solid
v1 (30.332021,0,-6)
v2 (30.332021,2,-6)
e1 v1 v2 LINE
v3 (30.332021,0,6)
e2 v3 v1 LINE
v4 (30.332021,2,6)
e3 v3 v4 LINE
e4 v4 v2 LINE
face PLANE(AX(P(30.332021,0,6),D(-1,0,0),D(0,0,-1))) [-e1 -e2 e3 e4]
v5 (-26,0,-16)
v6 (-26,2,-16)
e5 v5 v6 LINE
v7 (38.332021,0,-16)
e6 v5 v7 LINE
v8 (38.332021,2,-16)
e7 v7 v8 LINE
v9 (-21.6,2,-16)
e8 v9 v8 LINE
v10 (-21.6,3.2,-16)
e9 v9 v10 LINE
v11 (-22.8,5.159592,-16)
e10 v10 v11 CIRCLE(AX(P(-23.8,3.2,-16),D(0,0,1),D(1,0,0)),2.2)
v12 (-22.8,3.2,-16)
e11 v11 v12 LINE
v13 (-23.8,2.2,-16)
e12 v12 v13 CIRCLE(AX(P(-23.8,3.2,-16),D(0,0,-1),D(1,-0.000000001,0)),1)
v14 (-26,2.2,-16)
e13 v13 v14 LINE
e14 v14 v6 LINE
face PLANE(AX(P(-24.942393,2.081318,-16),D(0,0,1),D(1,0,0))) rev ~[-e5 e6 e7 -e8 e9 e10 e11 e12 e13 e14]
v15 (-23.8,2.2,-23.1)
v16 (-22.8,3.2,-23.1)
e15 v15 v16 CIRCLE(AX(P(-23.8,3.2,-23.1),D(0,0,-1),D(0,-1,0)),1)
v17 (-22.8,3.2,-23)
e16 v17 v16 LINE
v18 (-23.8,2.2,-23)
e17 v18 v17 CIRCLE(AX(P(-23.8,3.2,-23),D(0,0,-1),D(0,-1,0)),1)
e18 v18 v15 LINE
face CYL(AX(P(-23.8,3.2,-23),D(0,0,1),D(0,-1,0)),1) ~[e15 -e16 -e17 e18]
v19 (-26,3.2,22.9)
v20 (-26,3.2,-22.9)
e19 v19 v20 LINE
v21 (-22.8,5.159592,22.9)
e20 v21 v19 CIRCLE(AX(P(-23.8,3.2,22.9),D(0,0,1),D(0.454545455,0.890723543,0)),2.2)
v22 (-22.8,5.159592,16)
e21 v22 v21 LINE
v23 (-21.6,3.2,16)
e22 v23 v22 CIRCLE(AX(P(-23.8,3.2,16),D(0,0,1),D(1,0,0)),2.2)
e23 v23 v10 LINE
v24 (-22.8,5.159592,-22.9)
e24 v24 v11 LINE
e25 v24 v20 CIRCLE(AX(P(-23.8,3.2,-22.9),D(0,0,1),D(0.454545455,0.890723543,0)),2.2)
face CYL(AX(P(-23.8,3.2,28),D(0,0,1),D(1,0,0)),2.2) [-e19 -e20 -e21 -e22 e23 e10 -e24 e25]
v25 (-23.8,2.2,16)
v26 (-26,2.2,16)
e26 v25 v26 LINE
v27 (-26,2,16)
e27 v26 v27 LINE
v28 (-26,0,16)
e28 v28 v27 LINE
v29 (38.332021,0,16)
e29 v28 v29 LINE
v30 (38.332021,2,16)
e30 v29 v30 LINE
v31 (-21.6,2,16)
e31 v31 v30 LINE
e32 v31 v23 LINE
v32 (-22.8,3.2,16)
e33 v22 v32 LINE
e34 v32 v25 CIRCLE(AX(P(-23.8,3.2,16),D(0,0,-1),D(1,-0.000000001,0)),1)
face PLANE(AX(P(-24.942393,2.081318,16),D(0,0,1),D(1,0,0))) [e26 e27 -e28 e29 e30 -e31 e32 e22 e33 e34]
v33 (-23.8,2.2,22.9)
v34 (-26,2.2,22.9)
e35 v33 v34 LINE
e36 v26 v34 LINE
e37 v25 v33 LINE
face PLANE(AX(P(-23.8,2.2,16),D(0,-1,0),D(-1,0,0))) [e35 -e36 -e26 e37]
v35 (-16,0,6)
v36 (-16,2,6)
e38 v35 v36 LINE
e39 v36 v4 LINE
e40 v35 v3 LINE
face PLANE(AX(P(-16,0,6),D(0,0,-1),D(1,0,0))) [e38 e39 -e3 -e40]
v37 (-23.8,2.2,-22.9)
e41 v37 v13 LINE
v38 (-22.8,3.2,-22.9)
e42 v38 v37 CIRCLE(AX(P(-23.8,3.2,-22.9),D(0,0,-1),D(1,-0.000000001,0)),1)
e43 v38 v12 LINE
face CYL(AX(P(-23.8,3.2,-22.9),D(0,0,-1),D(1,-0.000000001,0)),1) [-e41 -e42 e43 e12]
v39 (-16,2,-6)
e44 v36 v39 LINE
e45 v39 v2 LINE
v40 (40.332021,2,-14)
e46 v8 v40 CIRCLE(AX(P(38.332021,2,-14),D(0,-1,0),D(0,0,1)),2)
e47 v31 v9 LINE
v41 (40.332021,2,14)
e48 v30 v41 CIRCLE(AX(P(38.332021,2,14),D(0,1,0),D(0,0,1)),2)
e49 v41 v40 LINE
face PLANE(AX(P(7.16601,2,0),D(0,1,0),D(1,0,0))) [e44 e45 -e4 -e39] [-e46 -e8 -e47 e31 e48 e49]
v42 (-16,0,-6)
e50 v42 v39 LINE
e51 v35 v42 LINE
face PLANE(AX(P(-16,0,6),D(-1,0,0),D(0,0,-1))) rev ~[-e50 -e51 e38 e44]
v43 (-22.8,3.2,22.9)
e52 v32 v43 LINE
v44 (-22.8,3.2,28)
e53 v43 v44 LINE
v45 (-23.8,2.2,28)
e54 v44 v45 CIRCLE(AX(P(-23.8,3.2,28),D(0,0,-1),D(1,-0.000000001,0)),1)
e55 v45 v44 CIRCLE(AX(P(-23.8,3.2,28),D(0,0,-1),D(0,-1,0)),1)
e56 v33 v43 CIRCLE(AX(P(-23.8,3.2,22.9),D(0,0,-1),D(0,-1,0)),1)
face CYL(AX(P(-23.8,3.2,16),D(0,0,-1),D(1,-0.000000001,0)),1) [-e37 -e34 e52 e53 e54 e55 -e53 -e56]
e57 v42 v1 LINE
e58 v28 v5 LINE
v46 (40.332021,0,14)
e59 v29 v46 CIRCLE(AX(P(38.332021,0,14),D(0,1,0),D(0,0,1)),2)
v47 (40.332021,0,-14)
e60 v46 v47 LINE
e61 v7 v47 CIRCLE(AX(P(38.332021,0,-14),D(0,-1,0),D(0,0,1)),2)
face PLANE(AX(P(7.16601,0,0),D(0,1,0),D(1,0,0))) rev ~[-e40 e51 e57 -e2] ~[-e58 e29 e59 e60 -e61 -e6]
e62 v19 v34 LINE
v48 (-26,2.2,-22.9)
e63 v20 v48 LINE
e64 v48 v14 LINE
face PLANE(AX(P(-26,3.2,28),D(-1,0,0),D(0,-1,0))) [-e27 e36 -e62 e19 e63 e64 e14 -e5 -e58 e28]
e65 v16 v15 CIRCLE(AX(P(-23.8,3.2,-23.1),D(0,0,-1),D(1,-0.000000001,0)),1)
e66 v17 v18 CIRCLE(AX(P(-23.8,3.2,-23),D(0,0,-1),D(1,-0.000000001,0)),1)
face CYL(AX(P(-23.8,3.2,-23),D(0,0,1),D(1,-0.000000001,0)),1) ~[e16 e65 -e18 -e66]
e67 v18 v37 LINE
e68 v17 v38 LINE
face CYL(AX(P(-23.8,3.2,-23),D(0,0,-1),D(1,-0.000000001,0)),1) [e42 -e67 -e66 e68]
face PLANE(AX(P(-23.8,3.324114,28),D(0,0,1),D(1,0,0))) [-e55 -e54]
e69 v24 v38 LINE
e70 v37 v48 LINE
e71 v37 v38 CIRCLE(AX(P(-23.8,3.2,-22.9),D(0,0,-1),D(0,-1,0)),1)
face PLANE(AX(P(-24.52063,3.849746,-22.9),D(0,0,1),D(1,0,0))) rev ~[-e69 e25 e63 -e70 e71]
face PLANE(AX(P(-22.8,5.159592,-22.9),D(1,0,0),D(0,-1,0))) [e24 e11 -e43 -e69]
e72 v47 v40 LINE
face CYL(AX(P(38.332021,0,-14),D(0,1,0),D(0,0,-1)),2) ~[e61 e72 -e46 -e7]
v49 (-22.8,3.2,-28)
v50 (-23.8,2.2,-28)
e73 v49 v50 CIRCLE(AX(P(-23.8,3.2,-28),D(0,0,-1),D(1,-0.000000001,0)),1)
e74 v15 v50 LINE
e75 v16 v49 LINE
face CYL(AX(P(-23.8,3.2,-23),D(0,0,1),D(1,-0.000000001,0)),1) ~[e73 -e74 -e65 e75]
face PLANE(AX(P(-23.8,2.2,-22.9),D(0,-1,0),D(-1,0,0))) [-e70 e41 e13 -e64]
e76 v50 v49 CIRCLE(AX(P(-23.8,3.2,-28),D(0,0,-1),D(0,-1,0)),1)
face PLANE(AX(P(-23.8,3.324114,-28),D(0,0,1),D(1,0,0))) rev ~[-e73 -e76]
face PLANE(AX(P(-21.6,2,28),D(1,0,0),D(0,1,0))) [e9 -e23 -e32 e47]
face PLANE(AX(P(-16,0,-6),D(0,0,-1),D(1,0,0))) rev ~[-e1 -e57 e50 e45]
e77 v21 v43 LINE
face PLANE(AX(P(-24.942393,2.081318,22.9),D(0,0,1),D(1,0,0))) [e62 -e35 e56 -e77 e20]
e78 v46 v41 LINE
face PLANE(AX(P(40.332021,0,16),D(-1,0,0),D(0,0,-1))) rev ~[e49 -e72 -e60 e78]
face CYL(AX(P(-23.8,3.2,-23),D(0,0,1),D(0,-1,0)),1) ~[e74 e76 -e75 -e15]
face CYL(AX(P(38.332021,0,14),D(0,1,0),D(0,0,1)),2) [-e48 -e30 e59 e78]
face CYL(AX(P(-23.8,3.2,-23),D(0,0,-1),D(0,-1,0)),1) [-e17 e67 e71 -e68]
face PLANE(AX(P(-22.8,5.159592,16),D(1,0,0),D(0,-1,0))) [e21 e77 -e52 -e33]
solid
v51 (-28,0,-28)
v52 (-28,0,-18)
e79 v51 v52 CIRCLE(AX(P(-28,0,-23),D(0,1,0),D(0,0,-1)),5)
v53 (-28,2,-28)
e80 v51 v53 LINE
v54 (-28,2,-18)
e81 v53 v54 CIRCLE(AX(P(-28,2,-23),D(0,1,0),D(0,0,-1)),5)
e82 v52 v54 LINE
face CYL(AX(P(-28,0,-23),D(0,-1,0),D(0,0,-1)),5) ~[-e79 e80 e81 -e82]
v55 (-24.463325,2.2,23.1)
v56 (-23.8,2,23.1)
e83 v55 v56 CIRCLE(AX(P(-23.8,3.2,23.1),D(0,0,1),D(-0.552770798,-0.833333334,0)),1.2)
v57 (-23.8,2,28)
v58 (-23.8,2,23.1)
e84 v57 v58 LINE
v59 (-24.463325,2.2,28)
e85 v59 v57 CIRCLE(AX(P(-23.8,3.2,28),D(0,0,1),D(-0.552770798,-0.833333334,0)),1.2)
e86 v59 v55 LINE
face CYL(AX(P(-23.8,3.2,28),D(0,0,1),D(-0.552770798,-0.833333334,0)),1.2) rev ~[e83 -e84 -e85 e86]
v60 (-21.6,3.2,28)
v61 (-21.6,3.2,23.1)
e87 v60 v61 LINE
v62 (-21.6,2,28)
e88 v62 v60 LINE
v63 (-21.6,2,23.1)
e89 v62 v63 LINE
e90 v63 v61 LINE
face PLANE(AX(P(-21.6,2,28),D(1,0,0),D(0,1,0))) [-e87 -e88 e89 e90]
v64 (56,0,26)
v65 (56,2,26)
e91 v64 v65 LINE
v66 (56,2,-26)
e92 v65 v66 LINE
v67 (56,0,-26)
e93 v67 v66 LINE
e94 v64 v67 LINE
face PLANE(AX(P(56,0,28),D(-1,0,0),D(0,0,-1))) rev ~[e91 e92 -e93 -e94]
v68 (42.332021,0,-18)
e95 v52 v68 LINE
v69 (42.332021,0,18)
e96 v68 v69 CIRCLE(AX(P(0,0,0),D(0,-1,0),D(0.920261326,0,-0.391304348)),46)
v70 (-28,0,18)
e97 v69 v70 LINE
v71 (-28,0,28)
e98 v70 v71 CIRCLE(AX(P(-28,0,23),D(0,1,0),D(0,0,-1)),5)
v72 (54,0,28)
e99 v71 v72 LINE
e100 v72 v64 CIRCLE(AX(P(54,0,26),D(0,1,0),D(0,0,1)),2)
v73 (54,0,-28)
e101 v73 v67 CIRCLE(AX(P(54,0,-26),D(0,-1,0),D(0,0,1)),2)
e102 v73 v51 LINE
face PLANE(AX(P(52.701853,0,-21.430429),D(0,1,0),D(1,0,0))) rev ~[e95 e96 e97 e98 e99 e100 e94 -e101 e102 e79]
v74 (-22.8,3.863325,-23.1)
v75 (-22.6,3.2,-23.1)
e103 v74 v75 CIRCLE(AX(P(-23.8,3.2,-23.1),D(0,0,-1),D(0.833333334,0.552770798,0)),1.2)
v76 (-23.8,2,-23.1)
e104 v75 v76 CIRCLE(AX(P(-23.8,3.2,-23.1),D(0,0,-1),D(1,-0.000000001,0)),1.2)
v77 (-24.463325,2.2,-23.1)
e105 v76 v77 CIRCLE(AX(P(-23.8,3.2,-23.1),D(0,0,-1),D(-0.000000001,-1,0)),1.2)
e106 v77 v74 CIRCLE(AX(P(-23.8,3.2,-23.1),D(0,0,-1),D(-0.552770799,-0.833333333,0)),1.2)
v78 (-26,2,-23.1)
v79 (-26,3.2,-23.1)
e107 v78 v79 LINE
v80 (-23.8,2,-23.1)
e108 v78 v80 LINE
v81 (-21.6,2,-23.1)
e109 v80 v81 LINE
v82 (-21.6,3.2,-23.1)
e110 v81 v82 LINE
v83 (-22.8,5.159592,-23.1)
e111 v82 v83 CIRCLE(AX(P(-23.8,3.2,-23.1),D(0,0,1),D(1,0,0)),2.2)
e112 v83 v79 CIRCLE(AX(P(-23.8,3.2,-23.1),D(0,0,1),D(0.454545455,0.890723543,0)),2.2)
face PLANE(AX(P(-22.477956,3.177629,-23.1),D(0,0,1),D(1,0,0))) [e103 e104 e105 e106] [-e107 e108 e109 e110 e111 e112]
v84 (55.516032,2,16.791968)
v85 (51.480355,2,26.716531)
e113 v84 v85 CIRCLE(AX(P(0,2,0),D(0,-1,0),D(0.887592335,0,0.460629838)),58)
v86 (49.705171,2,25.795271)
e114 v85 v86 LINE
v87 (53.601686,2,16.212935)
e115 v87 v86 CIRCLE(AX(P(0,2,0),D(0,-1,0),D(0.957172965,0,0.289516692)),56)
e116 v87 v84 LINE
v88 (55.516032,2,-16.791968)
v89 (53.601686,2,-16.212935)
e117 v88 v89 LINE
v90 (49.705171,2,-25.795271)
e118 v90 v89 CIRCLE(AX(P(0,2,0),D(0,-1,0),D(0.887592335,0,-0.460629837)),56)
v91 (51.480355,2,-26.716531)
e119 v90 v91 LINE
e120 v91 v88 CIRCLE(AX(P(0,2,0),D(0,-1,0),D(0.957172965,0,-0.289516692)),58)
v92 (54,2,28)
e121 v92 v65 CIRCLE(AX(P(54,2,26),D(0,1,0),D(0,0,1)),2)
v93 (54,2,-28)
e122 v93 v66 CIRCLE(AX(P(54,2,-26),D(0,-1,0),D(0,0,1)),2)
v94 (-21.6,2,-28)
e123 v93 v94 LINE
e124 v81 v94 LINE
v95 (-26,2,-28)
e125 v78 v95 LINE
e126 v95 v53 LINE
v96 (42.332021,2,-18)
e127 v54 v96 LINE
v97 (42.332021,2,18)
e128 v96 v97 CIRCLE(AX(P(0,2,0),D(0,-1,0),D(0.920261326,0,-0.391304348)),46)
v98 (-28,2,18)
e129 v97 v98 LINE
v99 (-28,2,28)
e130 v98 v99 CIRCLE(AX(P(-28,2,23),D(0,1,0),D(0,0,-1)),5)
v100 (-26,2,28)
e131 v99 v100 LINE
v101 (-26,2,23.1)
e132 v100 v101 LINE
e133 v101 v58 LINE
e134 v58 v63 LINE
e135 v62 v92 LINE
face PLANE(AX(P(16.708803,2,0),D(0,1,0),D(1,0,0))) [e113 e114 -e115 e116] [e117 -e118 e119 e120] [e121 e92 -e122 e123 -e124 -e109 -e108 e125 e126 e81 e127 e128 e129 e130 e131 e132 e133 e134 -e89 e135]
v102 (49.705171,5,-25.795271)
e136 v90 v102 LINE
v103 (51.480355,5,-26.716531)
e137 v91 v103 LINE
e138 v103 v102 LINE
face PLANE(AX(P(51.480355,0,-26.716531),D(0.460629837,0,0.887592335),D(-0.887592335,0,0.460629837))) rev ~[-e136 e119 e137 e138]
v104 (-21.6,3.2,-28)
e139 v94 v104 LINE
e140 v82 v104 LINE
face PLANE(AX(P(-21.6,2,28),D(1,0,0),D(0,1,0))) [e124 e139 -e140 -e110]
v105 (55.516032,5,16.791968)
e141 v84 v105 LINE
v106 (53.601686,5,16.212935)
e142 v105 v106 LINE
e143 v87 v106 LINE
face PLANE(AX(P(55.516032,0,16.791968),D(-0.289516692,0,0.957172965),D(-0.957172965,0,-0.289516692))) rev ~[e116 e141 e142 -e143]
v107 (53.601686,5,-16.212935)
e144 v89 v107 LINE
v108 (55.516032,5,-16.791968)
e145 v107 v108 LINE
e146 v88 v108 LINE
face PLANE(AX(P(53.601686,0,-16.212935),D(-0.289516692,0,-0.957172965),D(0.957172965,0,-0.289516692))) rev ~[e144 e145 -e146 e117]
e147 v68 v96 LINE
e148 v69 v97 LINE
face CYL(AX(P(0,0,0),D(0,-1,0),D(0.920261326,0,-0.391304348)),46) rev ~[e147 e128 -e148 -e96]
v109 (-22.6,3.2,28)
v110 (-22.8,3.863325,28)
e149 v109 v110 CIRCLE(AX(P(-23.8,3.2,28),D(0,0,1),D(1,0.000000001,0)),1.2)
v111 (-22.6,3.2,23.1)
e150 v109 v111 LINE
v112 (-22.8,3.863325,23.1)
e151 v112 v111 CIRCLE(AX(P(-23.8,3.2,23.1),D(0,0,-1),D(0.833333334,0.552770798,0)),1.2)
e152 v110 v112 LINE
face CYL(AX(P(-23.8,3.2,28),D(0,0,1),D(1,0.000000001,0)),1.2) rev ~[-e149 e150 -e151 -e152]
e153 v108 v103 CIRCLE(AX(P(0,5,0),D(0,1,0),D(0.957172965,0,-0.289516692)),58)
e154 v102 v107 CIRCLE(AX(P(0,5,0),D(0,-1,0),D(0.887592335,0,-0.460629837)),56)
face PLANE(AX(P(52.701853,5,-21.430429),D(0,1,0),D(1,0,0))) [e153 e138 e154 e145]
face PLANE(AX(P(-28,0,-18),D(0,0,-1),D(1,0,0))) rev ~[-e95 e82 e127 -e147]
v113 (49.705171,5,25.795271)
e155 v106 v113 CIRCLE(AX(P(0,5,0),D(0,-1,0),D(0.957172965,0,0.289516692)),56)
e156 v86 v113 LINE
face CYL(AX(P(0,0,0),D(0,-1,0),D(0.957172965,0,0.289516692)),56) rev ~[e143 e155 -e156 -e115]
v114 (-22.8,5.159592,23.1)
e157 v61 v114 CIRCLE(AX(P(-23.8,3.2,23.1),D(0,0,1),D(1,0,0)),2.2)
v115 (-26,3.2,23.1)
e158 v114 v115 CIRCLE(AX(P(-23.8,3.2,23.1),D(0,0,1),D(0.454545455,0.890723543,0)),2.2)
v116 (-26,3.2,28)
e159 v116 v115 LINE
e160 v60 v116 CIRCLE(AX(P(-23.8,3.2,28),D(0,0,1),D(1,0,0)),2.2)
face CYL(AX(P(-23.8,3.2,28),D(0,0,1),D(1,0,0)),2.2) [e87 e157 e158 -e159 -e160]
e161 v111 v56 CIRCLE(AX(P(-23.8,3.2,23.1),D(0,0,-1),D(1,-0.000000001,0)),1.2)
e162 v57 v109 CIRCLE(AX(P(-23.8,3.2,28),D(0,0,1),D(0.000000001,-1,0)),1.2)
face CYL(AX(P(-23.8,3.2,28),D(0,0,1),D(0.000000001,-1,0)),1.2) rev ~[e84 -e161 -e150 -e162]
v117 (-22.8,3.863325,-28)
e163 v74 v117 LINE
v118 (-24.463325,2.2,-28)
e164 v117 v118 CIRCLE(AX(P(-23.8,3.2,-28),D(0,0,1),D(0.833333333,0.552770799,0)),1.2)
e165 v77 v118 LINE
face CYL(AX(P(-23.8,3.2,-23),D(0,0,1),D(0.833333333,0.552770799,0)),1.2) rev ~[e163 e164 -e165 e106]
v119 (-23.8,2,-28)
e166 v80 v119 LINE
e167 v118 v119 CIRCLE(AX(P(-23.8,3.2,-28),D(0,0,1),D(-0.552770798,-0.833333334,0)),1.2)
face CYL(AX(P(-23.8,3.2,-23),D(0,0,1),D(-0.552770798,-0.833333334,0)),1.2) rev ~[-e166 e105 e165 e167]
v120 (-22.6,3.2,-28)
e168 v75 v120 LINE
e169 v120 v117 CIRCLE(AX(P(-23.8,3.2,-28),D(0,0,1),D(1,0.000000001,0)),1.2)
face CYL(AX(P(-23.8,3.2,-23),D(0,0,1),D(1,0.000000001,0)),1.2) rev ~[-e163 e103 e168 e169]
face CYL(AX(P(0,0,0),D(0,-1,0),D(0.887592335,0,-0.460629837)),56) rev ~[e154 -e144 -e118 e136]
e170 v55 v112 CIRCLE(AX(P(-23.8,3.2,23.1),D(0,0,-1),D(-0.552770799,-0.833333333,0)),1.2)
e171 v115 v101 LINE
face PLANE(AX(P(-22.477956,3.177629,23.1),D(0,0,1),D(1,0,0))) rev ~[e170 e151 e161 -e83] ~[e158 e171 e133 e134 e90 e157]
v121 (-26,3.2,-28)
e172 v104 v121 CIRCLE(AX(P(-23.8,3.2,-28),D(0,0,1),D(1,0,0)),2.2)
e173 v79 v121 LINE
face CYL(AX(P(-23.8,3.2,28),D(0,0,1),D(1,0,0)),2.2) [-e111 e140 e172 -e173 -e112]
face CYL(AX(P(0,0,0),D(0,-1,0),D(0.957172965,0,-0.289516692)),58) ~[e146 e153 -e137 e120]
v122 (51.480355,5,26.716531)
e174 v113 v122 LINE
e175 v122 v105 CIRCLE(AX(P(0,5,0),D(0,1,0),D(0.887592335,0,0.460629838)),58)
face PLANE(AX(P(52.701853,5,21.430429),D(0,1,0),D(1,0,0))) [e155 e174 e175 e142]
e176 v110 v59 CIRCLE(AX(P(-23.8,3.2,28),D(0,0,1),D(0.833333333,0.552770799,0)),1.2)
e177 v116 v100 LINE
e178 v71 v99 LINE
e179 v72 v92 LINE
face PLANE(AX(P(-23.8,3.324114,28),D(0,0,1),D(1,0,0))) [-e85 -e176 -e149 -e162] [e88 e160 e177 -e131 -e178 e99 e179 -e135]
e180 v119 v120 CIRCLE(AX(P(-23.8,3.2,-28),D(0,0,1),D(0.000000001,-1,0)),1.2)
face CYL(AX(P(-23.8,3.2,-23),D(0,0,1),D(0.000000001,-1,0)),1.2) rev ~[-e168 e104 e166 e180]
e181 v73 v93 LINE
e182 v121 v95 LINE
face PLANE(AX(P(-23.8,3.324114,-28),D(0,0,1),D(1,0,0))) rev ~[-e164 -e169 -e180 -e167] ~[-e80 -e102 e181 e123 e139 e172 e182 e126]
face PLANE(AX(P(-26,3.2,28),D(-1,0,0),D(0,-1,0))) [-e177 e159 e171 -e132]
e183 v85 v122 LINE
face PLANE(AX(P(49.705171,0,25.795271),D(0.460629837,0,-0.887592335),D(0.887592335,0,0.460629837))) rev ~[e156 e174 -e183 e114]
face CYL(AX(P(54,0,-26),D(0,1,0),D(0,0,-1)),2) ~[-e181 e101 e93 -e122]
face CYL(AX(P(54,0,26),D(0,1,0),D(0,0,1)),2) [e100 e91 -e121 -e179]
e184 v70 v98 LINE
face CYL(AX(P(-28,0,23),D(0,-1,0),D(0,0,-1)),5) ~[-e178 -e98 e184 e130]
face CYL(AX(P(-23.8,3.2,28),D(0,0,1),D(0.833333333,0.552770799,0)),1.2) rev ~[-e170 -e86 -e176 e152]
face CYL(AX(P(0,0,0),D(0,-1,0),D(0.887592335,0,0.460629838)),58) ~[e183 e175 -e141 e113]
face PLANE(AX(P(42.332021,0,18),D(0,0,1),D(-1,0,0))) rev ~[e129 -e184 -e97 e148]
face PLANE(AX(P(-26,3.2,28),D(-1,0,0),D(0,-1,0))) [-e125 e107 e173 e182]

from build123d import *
from build123d.topology import SkipClean

# Parameters (mm, degrees)
BOSS_EXTRUDE_BASE_PLATE_DEPTH         = 2
BASE_PLATE_W                          = 66.332020977
BASE_PLATE_H                          = 32
BASE_PLATE_W_2                        = 46.332020977
BASE_PLATE_H_2                        = 12
BOSS_EXTRUDE_BASE_PLATE_2_DEPTH       = 2
EXTRUDE_THIN_RISERS_DEPTH             = 5
BOSS_EXTRUDE_START                    = 28
BOSS_EXTRUDE_HINGE_BODY_DEPTH         = 56
FILLET_LEGS_R                         = 2
CUT_EXTRUDE_START                     = 28
CUT_EXTRUDE_HINGE_PIN_LHS_DEPTH       = 5
CUT_EXTRUDE_START_2                   = 23
CUT_EXTRUDE_HINGE_SEPARATOR_LHS_DEPTH = 0.1
CUT_EXTRUDE_START_3                   = 16
CUT_EXTRUDE_HINGE_LIMITER_LHS_DEPTH   = 6.9
CUT_EXTRUDE_START_4                   = -23
CUT_EXTRUDE_HINGE_PIN_RHS_DEPTH       = 5
CUT_EXTRUDE_HINGE_SEPARATOR_RHS_DEPTH = 0.1
CUT_EXTRUDE_START_5                   = -22.9
CUT_EXTRUDE_HINGE_LIMITER_RHS_DEPTH   = 6.9


with BuildPart() as part:
    # Base plate → Boss-Extrude base plate (new body)
    with BuildSketch(Plane(origin=(0, 0, 0), x_dir=(1, 0, 0), z_dir=(0, 1, 0))):
        with BuildLine():
            Line((-28, 18), (42.332020977, 18))
            ThreePointArc((42.332020977, 18), (46, 0), (42.332020977, -18))
            Line((42.332020977, -18), (-28, -18))
            ThreePointArc((-28, -18), (-33, -23), (-28, -28))
            Line((-28, -28), (48.497422612, -28))
            Line((48.497422612, -28), (56, -28))
            Line((56, -28), (56, 28))
            Line((56, 28), (48.497422612, 28))
            Line((48.497422612, 28), (-28, 28))
            ThreePointArc((-28, 28), (-33, 23), (-28, 18))
        make_face()
    extrude(amount=BOSS_EXTRUDE_BASE_PLATE_DEPTH)

    # Sketch1<5> → Extrude-Thin risers (add)
    with BuildSketch(Plane(origin=(0, 0, 0), x_dir=(1, 0, 0), z_dir=(0, 1, 0))):
        with BuildLine():
            ThreePointArc((49.705170747, 25.795270904), (51.875157412, 21.094265653), (53.601686044, 16.212934751))
            Line((53.601686044, 16.212934751), (55.516031974, 16.791968135))
            ThreePointArc((55.516031974, 16.791968135), (53.727841606, 21.847632284), (51.480355417, 26.716530579))
            Line((51.480355417, 26.716530579), (49.705170747, 25.795270904))
        make_face()
        with BuildLine():
            ThreePointArc((53.601686044, -16.212934751), (51.875157412, -21.094265653), (49.705170747, -25.795270904))
            Line((49.705170747, -25.795270904), (51.480355417, -26.716530579))
            ThreePointArc((51.480355417, -26.716530579), (53.727841606, -21.847632284), (55.516031974, -16.791968135))
            Line((55.516031974, -16.791968135), (53.601686044, -16.212934751))
        make_face()
    extrude(amount=EXTRUDE_THIN_RISERS_DEPTH)



with BuildPart() as body_2:
    # Base plate → Boss-Extrude base plate 2 (new body)
    with BuildSketch(Plane(origin=(0, 0, 0), x_dir=(1, 0, 0), z_dir=(0, 1, 0))):
        with Locations((7.166010488, 0)):
            Rectangle(BASE_PLATE_W, BASE_PLATE_H)
        with Locations((7.166010489, 0)):
            Rectangle(BASE_PLATE_W_2, BASE_PLATE_H_2, mode=Mode.SUBTRACT)
    extrude(amount=BOSS_EXTRUDE_BASE_PLATE_2_DEPTH)


with BuildPart() as part_1:
    add(part.part)

    add(body_2.part)  # Boss-Extrude hinge body merges body 2
    # Hinge → Boss-Extrude hinge body (add)
    with BuildSketch(Plane.XY.offset(BOSS_EXTRUDE_START)):
        with BuildLine():
            Line((-26, 3.2), (-26, 2))
            Line((-26, 2), (-21.6, 2))
            Line((-21.6, 2), (-21.6, 3.2))
            ThreePointArc((-21.6, 3.2), (-23.8, 5.4), (-26, 3.2))
        make_face()
    extrude(amount=-BOSS_EXTRUDE_HINGE_BODY_DEPTH)

    # Fillet legs
    fillet_legs_edges = [part_1.edges().sort_by_distance(p)[0] for p in [
        (56, 1, -28),
        (56, 1, 28),
        (40.332020977, 1, -16),
        (40.332020977, 1, 16),
    ]]
    fillet(fillet_legs_edges, radius=FILLET_LEGS_R)

    # Hinge<3> → Cut-Extrude hinge pin LHS (cut)
    with BuildSketch(Plane.XY.offset(CUT_EXTRUDE_START)):
        with BuildLine():
            ThreePointArc((-23.8, 2.2), (-24.507106781, 3.907106781), (-22.8, 3.2))
            Line((-22.8, 3.2), (-22.8, 3.863324958))
            ThreePointArc((-22.8, 3.863324958), (-24.648528137, 4.048528137), (-24.463324958, 2.2))
            Line((-24.463324958, 2.2), (-23.8, 2.2))
        make_face()
        with BuildLine():
            Line((-22.8, 3.863324958), (-22.8, 3.2))
            ThreePointArc((-22.8, 3.2), (-23.092893219, 2.492893219), (-23.8, 2.2))
            Line((-23.8, 2.2), (-24.463324958, 2.2))
            ThreePointArc((-24.463324958, 2.2), (-24.146410162, 2.051087471), (-23.8, 2))
            ThreePointArc((-23.8, 2), (-22.951471863, 2.351471863), (-22.6, 3.2))
            ThreePointArc((-22.6, 3.2), (-22.651087471, 3.546410162), (-22.8, 3.863324958))
        make_face()
    extrude(amount=-CUT_EXTRUDE_HINGE_PIN_LHS_DEPTH, mode=Mode.SUBTRACT)

    # Hinge<4> → Cut-Extrude hinge separator LHS (cut, symmetric)
    with SkipClean():  # the faces are left unmerged after this step: merging them gives an invalid solid
        with BuildSketch(Plane.XY.offset(CUT_EXTRUDE_START_2)):
            with BuildLine():
                ThreePointArc((-24.463324958, 2.2), (-24.648528137, 4.048528137), (-22.8, 3.863324958))
                Line((-22.8, 3.863324958), (-22.8, 5.159591794))
                ThreePointArc((-22.8, 5.159591794), (-24.948912529, 5.076166304), (-26, 3.2))
                Line((-26, 3.2), (-26, 2.2))
                Line((-26, 2.2), (-24.463324958, 2.2))
            make_face()
            with BuildLine():
                Line((-22.8, 5.159591794), (-22.8, 3.863324958))
                ThreePointArc((-22.8, 3.863324958), (-22.651087471, 3.546410162), (-22.6, 3.2))
                ThreePointArc((-22.6, 3.2), (-22.951471863, 2.351471863), (-23.8, 2))
                Line((-23.8, 2), (-21.6, 2))
                Line((-21.6, 2), (-21.6, 3.2))
                ThreePointArc((-21.6, 3.2), (-21.923833696, 4.348912529), (-22.8, 5.159591794))
            make_face()
            with BuildLine():
                ThreePointArc((-23.8, 2.2), (-24.507106781, 3.907106781), (-22.8, 3.2))
                Line((-22.8, 3.2), (-22.8, 3.863324958))
                ThreePointArc((-22.8, 3.863324958), (-24.648528137, 4.048528137), (-24.463324958, 2.2))
                Line((-24.463324958, 2.2), (-23.8, 2.2))
            make_face()
            with BuildLine():
                Line((-22.8, 3.863324958), (-22.8, 3.2))
                ThreePointArc((-22.8, 3.2), (-23.092893219, 2.492893219), (-23.8, 2.2))
                Line((-23.8, 2.2), (-24.463324958, 2.2))
                ThreePointArc((-24.463324958, 2.2), (-24.146410162, 2.051087471), (-23.8, 2))
                ThreePointArc((-23.8, 2), (-22.951471863, 2.351471863), (-22.6, 3.2))
                ThreePointArc((-22.6, 3.2), (-22.651087471, 3.546410162), (-22.8, 3.863324958))
            make_face()
            with BuildLine():
                ThreePointArc((-23.8, 2), (-24.146410162, 2.051087471), (-24.463324958, 2.2))
                Line((-24.463324958, 2.2), (-26, 2.2))
                Line((-26, 2.2), (-26, 2))
                Line((-26, 2), (-23.8, 2))
            make_face()
        extrude(amount=CUT_EXTRUDE_HINGE_SEPARATOR_LHS_DEPTH, both=True, mode=Mode.SUBTRACT)

    # Hinge<5> → Cut-Extrude hinge limiter LHS (cut)
    with BuildSketch(Plane.XY.offset(CUT_EXTRUDE_START_3)):
        with BuildLine():
            ThreePointArc((-23.8, 2), (-24.146410162, 2.051087471), (-24.463324958, 2.2))
            Line((-24.463324958, 2.2), (-26, 2.2))
            Line((-26, 2.2), (-26, 2))
            Line((-26, 2), (-23.8, 2))
        make_face()
        with BuildLine():
            Line((-22.8, 3.863324958), (-22.8, 3.2))
            ThreePointArc((-22.8, 3.2), (-23.092893219, 2.492893219), (-23.8, 2.2))
            Line((-23.8, 2.2), (-24.463324958, 2.2))
            ThreePointArc((-24.463324958, 2.2), (-24.146410162, 2.051087471), (-23.8, 2))
            ThreePointArc((-23.8, 2), (-22.951471863, 2.351471863), (-22.6, 3.2))
            ThreePointArc((-22.6, 3.2), (-22.651087471, 3.546410162), (-22.8, 3.863324958))
        make_face()
        with BuildLine():
            Line((-22.8, 5.159591794), (-22.8, 3.863324958))
            ThreePointArc((-22.8, 3.863324958), (-22.651087471, 3.546410162), (-22.6, 3.2))
            ThreePointArc((-22.6, 3.2), (-22.951471863, 2.351471863), (-23.8, 2))
            Line((-23.8, 2), (-21.6, 2))
            Line((-21.6, 2), (-21.6, 3.2))
            ThreePointArc((-21.6, 3.2), (-21.923833696, 4.348912529), (-22.8, 5.159591794))
        make_face()
    extrude(amount=CUT_EXTRUDE_HINGE_LIMITER_LHS_DEPTH, mode=Mode.SUBTRACT)

    # Hinge<6> → Cut-Extrude hinge pin RHS (cut)
    with BuildSketch(Plane.XY.offset(CUT_EXTRUDE_START_4)):
        with BuildLine():
            ThreePointArc((-23.8, 2.2), (-24.507106781, 3.907106781), (-22.8, 3.2))
            Line((-22.8, 3.2), (-22.8, 3.863324958))
            ThreePointArc((-22.8, 3.863324958), (-24.648528137, 4.048528137), (-24.463324958, 2.2))
            Line((-24.463324958, 2.2), (-23.8, 2.2))
        make_face()
        with BuildLine():
            Line((-22.8, 3.863324958), (-22.8, 3.2))
            ThreePointArc((-22.8, 3.2), (-23.092893219, 2.492893219), (-23.8, 2.2))
            Line((-23.8, 2.2), (-24.463324958, 2.2))
            ThreePointArc((-24.463324958, 2.2), (-24.146410162, 2.051087471), (-23.8, 2))
            ThreePointArc((-23.8, 2), (-22.951471863, 2.351471863), (-22.6, 3.2))
            ThreePointArc((-22.6, 3.2), (-22.651087471, 3.546410162), (-22.8, 3.863324958))
        make_face()
    extrude(amount=-CUT_EXTRUDE_HINGE_PIN_RHS_DEPTH, mode=Mode.SUBTRACT)

    # Hinge<7> → Cut-Extrude hinge separator RHS (cut, symmetric)
    with SkipClean():  # the faces are left unmerged after this step: merging them gives an invalid solid
        with BuildSketch(Plane.XY.offset(CUT_EXTRUDE_START_4)):
            with BuildLine():
                Line((-22.8, 5.159591794), (-22.8, 3.863324958))
                ThreePointArc((-22.8, 3.863324958), (-22.651087471, 3.546410162), (-22.6, 3.2))
                ThreePointArc((-22.6, 3.2), (-22.951471863, 2.351471863), (-23.8, 2))
                Line((-23.8, 2), (-21.6, 2))
                Line((-21.6, 2), (-21.6, 3.2))
                ThreePointArc((-21.6, 3.2), (-21.923833696, 4.348912529), (-22.8, 5.159591794))
            make_face()
            with BuildLine():
                ThreePointArc((-24.463324958, 2.2), (-24.648528137, 4.048528137), (-22.8, 3.863324958))
                Line((-22.8, 3.863324958), (-22.8, 5.159591794))
                ThreePointArc((-22.8, 5.159591794), (-24.948912529, 5.076166304), (-26, 3.2))
                Line((-26, 3.2), (-26, 2.2))
                Line((-26, 2.2), (-24.463324958, 2.2))
            make_face()
            with BuildLine():
                ThreePointArc((-23.8, 2), (-24.146410162, 2.051087471), (-24.463324958, 2.2))
                Line((-24.463324958, 2.2), (-26, 2.2))
                Line((-26, 2.2), (-26, 2))
                Line((-26, 2), (-23.8, 2))
            make_face()
            with BuildLine():
                ThreePointArc((-23.8, 2.2), (-24.507106781, 3.907106781), (-22.8, 3.2))
                Line((-22.8, 3.2), (-22.8, 3.863324958))
                ThreePointArc((-22.8, 3.863324958), (-24.648528137, 4.048528137), (-24.463324958, 2.2))
                Line((-24.463324958, 2.2), (-23.8, 2.2))
            make_face()
            with BuildLine():
                Line((-22.8, 3.863324958), (-22.8, 3.2))
                ThreePointArc((-22.8, 3.2), (-23.092893219, 2.492893219), (-23.8, 2.2))
                Line((-23.8, 2.2), (-24.463324958, 2.2))
                ThreePointArc((-24.463324958, 2.2), (-24.146410162, 2.051087471), (-23.8, 2))
                ThreePointArc((-23.8, 2), (-22.951471863, 2.351471863), (-22.6, 3.2))
                ThreePointArc((-22.6, 3.2), (-22.651087471, 3.546410162), (-22.8, 3.863324958))
            make_face()
        extrude(amount=CUT_EXTRUDE_HINGE_SEPARATOR_RHS_DEPTH, both=True, mode=Mode.SUBTRACT)

    # Hinge<8> → Cut-Extrude hinge limiter RHS (cut)
    with BuildSketch(Plane.XY.offset(CUT_EXTRUDE_START_5)):
        with BuildLine():
            ThreePointArc((-23.8, 2), (-24.146410162, 2.051087471), (-24.463324958, 2.2))
            Line((-24.463324958, 2.2), (-26, 2.2))
            Line((-26, 2.2), (-26, 2))
            Line((-26, 2), (-23.8, 2))
        make_face()
        with BuildLine():
            Line((-22.8, 3.863324958), (-22.8, 3.2))
            ThreePointArc((-22.8, 3.2), (-23.092893219, 2.492893219), (-23.8, 2.2))
            Line((-23.8, 2.2), (-24.463324958, 2.2))
            ThreePointArc((-24.463324958, 2.2), (-24.146410162, 2.051087471), (-23.8, 2))
            ThreePointArc((-23.8, 2), (-22.951471863, 2.351471863), (-22.6, 3.2))
            ThreePointArc((-22.6, 3.2), (-22.651087471, 3.546410162), (-22.8, 3.863324958))
        make_face()
        with BuildLine():
            Line((-22.8, 5.159591794), (-22.8, 3.863324958))
            ThreePointArc((-22.8, 3.863324958), (-22.651087471, 3.546410162), (-22.6, 3.2))
            ThreePointArc((-22.6, 3.2), (-22.951471863, 2.351471863), (-23.8, 2))
            Line((-23.8, 2), (-21.6, 2))
            Line((-21.6, 2), (-21.6, 3.2))
            ThreePointArc((-21.6, 3.2), (-21.923833696, 4.348912529), (-22.8, 5.159591794))
        make_face()
    extrude(amount=CUT_EXTRUDE_HINGE_LIMITER_RHS_DEPTH, mode=Mode.SUBTRACT)


with BuildPart() as cut_extrude_hinge_limiter_rhs_piece_1:
    # of the separate pieces the step leaves, piece 1, a body of its own (cut_extrude_hinge_limiter_rhs_pieces)
    add(part_1.part.solids().sort_by_distance((54, 0, 28))[0])


with BuildPart() as cut_extrude_hinge_limiter_rhs_piece_2:
    # of the separate pieces the step leaves, piece 2, a body of its own (cut_extrude_hinge_limiter_rhs_pieces)
    add(part_1.part.solids().sort_by_distance((38.332020977, 0, -16))[0])


solid = Compound([cut_extrude_hinge_limiter_rhs_piece_1.part, cut_extrude_hinge_limiter_rhs_piece_2.part])
